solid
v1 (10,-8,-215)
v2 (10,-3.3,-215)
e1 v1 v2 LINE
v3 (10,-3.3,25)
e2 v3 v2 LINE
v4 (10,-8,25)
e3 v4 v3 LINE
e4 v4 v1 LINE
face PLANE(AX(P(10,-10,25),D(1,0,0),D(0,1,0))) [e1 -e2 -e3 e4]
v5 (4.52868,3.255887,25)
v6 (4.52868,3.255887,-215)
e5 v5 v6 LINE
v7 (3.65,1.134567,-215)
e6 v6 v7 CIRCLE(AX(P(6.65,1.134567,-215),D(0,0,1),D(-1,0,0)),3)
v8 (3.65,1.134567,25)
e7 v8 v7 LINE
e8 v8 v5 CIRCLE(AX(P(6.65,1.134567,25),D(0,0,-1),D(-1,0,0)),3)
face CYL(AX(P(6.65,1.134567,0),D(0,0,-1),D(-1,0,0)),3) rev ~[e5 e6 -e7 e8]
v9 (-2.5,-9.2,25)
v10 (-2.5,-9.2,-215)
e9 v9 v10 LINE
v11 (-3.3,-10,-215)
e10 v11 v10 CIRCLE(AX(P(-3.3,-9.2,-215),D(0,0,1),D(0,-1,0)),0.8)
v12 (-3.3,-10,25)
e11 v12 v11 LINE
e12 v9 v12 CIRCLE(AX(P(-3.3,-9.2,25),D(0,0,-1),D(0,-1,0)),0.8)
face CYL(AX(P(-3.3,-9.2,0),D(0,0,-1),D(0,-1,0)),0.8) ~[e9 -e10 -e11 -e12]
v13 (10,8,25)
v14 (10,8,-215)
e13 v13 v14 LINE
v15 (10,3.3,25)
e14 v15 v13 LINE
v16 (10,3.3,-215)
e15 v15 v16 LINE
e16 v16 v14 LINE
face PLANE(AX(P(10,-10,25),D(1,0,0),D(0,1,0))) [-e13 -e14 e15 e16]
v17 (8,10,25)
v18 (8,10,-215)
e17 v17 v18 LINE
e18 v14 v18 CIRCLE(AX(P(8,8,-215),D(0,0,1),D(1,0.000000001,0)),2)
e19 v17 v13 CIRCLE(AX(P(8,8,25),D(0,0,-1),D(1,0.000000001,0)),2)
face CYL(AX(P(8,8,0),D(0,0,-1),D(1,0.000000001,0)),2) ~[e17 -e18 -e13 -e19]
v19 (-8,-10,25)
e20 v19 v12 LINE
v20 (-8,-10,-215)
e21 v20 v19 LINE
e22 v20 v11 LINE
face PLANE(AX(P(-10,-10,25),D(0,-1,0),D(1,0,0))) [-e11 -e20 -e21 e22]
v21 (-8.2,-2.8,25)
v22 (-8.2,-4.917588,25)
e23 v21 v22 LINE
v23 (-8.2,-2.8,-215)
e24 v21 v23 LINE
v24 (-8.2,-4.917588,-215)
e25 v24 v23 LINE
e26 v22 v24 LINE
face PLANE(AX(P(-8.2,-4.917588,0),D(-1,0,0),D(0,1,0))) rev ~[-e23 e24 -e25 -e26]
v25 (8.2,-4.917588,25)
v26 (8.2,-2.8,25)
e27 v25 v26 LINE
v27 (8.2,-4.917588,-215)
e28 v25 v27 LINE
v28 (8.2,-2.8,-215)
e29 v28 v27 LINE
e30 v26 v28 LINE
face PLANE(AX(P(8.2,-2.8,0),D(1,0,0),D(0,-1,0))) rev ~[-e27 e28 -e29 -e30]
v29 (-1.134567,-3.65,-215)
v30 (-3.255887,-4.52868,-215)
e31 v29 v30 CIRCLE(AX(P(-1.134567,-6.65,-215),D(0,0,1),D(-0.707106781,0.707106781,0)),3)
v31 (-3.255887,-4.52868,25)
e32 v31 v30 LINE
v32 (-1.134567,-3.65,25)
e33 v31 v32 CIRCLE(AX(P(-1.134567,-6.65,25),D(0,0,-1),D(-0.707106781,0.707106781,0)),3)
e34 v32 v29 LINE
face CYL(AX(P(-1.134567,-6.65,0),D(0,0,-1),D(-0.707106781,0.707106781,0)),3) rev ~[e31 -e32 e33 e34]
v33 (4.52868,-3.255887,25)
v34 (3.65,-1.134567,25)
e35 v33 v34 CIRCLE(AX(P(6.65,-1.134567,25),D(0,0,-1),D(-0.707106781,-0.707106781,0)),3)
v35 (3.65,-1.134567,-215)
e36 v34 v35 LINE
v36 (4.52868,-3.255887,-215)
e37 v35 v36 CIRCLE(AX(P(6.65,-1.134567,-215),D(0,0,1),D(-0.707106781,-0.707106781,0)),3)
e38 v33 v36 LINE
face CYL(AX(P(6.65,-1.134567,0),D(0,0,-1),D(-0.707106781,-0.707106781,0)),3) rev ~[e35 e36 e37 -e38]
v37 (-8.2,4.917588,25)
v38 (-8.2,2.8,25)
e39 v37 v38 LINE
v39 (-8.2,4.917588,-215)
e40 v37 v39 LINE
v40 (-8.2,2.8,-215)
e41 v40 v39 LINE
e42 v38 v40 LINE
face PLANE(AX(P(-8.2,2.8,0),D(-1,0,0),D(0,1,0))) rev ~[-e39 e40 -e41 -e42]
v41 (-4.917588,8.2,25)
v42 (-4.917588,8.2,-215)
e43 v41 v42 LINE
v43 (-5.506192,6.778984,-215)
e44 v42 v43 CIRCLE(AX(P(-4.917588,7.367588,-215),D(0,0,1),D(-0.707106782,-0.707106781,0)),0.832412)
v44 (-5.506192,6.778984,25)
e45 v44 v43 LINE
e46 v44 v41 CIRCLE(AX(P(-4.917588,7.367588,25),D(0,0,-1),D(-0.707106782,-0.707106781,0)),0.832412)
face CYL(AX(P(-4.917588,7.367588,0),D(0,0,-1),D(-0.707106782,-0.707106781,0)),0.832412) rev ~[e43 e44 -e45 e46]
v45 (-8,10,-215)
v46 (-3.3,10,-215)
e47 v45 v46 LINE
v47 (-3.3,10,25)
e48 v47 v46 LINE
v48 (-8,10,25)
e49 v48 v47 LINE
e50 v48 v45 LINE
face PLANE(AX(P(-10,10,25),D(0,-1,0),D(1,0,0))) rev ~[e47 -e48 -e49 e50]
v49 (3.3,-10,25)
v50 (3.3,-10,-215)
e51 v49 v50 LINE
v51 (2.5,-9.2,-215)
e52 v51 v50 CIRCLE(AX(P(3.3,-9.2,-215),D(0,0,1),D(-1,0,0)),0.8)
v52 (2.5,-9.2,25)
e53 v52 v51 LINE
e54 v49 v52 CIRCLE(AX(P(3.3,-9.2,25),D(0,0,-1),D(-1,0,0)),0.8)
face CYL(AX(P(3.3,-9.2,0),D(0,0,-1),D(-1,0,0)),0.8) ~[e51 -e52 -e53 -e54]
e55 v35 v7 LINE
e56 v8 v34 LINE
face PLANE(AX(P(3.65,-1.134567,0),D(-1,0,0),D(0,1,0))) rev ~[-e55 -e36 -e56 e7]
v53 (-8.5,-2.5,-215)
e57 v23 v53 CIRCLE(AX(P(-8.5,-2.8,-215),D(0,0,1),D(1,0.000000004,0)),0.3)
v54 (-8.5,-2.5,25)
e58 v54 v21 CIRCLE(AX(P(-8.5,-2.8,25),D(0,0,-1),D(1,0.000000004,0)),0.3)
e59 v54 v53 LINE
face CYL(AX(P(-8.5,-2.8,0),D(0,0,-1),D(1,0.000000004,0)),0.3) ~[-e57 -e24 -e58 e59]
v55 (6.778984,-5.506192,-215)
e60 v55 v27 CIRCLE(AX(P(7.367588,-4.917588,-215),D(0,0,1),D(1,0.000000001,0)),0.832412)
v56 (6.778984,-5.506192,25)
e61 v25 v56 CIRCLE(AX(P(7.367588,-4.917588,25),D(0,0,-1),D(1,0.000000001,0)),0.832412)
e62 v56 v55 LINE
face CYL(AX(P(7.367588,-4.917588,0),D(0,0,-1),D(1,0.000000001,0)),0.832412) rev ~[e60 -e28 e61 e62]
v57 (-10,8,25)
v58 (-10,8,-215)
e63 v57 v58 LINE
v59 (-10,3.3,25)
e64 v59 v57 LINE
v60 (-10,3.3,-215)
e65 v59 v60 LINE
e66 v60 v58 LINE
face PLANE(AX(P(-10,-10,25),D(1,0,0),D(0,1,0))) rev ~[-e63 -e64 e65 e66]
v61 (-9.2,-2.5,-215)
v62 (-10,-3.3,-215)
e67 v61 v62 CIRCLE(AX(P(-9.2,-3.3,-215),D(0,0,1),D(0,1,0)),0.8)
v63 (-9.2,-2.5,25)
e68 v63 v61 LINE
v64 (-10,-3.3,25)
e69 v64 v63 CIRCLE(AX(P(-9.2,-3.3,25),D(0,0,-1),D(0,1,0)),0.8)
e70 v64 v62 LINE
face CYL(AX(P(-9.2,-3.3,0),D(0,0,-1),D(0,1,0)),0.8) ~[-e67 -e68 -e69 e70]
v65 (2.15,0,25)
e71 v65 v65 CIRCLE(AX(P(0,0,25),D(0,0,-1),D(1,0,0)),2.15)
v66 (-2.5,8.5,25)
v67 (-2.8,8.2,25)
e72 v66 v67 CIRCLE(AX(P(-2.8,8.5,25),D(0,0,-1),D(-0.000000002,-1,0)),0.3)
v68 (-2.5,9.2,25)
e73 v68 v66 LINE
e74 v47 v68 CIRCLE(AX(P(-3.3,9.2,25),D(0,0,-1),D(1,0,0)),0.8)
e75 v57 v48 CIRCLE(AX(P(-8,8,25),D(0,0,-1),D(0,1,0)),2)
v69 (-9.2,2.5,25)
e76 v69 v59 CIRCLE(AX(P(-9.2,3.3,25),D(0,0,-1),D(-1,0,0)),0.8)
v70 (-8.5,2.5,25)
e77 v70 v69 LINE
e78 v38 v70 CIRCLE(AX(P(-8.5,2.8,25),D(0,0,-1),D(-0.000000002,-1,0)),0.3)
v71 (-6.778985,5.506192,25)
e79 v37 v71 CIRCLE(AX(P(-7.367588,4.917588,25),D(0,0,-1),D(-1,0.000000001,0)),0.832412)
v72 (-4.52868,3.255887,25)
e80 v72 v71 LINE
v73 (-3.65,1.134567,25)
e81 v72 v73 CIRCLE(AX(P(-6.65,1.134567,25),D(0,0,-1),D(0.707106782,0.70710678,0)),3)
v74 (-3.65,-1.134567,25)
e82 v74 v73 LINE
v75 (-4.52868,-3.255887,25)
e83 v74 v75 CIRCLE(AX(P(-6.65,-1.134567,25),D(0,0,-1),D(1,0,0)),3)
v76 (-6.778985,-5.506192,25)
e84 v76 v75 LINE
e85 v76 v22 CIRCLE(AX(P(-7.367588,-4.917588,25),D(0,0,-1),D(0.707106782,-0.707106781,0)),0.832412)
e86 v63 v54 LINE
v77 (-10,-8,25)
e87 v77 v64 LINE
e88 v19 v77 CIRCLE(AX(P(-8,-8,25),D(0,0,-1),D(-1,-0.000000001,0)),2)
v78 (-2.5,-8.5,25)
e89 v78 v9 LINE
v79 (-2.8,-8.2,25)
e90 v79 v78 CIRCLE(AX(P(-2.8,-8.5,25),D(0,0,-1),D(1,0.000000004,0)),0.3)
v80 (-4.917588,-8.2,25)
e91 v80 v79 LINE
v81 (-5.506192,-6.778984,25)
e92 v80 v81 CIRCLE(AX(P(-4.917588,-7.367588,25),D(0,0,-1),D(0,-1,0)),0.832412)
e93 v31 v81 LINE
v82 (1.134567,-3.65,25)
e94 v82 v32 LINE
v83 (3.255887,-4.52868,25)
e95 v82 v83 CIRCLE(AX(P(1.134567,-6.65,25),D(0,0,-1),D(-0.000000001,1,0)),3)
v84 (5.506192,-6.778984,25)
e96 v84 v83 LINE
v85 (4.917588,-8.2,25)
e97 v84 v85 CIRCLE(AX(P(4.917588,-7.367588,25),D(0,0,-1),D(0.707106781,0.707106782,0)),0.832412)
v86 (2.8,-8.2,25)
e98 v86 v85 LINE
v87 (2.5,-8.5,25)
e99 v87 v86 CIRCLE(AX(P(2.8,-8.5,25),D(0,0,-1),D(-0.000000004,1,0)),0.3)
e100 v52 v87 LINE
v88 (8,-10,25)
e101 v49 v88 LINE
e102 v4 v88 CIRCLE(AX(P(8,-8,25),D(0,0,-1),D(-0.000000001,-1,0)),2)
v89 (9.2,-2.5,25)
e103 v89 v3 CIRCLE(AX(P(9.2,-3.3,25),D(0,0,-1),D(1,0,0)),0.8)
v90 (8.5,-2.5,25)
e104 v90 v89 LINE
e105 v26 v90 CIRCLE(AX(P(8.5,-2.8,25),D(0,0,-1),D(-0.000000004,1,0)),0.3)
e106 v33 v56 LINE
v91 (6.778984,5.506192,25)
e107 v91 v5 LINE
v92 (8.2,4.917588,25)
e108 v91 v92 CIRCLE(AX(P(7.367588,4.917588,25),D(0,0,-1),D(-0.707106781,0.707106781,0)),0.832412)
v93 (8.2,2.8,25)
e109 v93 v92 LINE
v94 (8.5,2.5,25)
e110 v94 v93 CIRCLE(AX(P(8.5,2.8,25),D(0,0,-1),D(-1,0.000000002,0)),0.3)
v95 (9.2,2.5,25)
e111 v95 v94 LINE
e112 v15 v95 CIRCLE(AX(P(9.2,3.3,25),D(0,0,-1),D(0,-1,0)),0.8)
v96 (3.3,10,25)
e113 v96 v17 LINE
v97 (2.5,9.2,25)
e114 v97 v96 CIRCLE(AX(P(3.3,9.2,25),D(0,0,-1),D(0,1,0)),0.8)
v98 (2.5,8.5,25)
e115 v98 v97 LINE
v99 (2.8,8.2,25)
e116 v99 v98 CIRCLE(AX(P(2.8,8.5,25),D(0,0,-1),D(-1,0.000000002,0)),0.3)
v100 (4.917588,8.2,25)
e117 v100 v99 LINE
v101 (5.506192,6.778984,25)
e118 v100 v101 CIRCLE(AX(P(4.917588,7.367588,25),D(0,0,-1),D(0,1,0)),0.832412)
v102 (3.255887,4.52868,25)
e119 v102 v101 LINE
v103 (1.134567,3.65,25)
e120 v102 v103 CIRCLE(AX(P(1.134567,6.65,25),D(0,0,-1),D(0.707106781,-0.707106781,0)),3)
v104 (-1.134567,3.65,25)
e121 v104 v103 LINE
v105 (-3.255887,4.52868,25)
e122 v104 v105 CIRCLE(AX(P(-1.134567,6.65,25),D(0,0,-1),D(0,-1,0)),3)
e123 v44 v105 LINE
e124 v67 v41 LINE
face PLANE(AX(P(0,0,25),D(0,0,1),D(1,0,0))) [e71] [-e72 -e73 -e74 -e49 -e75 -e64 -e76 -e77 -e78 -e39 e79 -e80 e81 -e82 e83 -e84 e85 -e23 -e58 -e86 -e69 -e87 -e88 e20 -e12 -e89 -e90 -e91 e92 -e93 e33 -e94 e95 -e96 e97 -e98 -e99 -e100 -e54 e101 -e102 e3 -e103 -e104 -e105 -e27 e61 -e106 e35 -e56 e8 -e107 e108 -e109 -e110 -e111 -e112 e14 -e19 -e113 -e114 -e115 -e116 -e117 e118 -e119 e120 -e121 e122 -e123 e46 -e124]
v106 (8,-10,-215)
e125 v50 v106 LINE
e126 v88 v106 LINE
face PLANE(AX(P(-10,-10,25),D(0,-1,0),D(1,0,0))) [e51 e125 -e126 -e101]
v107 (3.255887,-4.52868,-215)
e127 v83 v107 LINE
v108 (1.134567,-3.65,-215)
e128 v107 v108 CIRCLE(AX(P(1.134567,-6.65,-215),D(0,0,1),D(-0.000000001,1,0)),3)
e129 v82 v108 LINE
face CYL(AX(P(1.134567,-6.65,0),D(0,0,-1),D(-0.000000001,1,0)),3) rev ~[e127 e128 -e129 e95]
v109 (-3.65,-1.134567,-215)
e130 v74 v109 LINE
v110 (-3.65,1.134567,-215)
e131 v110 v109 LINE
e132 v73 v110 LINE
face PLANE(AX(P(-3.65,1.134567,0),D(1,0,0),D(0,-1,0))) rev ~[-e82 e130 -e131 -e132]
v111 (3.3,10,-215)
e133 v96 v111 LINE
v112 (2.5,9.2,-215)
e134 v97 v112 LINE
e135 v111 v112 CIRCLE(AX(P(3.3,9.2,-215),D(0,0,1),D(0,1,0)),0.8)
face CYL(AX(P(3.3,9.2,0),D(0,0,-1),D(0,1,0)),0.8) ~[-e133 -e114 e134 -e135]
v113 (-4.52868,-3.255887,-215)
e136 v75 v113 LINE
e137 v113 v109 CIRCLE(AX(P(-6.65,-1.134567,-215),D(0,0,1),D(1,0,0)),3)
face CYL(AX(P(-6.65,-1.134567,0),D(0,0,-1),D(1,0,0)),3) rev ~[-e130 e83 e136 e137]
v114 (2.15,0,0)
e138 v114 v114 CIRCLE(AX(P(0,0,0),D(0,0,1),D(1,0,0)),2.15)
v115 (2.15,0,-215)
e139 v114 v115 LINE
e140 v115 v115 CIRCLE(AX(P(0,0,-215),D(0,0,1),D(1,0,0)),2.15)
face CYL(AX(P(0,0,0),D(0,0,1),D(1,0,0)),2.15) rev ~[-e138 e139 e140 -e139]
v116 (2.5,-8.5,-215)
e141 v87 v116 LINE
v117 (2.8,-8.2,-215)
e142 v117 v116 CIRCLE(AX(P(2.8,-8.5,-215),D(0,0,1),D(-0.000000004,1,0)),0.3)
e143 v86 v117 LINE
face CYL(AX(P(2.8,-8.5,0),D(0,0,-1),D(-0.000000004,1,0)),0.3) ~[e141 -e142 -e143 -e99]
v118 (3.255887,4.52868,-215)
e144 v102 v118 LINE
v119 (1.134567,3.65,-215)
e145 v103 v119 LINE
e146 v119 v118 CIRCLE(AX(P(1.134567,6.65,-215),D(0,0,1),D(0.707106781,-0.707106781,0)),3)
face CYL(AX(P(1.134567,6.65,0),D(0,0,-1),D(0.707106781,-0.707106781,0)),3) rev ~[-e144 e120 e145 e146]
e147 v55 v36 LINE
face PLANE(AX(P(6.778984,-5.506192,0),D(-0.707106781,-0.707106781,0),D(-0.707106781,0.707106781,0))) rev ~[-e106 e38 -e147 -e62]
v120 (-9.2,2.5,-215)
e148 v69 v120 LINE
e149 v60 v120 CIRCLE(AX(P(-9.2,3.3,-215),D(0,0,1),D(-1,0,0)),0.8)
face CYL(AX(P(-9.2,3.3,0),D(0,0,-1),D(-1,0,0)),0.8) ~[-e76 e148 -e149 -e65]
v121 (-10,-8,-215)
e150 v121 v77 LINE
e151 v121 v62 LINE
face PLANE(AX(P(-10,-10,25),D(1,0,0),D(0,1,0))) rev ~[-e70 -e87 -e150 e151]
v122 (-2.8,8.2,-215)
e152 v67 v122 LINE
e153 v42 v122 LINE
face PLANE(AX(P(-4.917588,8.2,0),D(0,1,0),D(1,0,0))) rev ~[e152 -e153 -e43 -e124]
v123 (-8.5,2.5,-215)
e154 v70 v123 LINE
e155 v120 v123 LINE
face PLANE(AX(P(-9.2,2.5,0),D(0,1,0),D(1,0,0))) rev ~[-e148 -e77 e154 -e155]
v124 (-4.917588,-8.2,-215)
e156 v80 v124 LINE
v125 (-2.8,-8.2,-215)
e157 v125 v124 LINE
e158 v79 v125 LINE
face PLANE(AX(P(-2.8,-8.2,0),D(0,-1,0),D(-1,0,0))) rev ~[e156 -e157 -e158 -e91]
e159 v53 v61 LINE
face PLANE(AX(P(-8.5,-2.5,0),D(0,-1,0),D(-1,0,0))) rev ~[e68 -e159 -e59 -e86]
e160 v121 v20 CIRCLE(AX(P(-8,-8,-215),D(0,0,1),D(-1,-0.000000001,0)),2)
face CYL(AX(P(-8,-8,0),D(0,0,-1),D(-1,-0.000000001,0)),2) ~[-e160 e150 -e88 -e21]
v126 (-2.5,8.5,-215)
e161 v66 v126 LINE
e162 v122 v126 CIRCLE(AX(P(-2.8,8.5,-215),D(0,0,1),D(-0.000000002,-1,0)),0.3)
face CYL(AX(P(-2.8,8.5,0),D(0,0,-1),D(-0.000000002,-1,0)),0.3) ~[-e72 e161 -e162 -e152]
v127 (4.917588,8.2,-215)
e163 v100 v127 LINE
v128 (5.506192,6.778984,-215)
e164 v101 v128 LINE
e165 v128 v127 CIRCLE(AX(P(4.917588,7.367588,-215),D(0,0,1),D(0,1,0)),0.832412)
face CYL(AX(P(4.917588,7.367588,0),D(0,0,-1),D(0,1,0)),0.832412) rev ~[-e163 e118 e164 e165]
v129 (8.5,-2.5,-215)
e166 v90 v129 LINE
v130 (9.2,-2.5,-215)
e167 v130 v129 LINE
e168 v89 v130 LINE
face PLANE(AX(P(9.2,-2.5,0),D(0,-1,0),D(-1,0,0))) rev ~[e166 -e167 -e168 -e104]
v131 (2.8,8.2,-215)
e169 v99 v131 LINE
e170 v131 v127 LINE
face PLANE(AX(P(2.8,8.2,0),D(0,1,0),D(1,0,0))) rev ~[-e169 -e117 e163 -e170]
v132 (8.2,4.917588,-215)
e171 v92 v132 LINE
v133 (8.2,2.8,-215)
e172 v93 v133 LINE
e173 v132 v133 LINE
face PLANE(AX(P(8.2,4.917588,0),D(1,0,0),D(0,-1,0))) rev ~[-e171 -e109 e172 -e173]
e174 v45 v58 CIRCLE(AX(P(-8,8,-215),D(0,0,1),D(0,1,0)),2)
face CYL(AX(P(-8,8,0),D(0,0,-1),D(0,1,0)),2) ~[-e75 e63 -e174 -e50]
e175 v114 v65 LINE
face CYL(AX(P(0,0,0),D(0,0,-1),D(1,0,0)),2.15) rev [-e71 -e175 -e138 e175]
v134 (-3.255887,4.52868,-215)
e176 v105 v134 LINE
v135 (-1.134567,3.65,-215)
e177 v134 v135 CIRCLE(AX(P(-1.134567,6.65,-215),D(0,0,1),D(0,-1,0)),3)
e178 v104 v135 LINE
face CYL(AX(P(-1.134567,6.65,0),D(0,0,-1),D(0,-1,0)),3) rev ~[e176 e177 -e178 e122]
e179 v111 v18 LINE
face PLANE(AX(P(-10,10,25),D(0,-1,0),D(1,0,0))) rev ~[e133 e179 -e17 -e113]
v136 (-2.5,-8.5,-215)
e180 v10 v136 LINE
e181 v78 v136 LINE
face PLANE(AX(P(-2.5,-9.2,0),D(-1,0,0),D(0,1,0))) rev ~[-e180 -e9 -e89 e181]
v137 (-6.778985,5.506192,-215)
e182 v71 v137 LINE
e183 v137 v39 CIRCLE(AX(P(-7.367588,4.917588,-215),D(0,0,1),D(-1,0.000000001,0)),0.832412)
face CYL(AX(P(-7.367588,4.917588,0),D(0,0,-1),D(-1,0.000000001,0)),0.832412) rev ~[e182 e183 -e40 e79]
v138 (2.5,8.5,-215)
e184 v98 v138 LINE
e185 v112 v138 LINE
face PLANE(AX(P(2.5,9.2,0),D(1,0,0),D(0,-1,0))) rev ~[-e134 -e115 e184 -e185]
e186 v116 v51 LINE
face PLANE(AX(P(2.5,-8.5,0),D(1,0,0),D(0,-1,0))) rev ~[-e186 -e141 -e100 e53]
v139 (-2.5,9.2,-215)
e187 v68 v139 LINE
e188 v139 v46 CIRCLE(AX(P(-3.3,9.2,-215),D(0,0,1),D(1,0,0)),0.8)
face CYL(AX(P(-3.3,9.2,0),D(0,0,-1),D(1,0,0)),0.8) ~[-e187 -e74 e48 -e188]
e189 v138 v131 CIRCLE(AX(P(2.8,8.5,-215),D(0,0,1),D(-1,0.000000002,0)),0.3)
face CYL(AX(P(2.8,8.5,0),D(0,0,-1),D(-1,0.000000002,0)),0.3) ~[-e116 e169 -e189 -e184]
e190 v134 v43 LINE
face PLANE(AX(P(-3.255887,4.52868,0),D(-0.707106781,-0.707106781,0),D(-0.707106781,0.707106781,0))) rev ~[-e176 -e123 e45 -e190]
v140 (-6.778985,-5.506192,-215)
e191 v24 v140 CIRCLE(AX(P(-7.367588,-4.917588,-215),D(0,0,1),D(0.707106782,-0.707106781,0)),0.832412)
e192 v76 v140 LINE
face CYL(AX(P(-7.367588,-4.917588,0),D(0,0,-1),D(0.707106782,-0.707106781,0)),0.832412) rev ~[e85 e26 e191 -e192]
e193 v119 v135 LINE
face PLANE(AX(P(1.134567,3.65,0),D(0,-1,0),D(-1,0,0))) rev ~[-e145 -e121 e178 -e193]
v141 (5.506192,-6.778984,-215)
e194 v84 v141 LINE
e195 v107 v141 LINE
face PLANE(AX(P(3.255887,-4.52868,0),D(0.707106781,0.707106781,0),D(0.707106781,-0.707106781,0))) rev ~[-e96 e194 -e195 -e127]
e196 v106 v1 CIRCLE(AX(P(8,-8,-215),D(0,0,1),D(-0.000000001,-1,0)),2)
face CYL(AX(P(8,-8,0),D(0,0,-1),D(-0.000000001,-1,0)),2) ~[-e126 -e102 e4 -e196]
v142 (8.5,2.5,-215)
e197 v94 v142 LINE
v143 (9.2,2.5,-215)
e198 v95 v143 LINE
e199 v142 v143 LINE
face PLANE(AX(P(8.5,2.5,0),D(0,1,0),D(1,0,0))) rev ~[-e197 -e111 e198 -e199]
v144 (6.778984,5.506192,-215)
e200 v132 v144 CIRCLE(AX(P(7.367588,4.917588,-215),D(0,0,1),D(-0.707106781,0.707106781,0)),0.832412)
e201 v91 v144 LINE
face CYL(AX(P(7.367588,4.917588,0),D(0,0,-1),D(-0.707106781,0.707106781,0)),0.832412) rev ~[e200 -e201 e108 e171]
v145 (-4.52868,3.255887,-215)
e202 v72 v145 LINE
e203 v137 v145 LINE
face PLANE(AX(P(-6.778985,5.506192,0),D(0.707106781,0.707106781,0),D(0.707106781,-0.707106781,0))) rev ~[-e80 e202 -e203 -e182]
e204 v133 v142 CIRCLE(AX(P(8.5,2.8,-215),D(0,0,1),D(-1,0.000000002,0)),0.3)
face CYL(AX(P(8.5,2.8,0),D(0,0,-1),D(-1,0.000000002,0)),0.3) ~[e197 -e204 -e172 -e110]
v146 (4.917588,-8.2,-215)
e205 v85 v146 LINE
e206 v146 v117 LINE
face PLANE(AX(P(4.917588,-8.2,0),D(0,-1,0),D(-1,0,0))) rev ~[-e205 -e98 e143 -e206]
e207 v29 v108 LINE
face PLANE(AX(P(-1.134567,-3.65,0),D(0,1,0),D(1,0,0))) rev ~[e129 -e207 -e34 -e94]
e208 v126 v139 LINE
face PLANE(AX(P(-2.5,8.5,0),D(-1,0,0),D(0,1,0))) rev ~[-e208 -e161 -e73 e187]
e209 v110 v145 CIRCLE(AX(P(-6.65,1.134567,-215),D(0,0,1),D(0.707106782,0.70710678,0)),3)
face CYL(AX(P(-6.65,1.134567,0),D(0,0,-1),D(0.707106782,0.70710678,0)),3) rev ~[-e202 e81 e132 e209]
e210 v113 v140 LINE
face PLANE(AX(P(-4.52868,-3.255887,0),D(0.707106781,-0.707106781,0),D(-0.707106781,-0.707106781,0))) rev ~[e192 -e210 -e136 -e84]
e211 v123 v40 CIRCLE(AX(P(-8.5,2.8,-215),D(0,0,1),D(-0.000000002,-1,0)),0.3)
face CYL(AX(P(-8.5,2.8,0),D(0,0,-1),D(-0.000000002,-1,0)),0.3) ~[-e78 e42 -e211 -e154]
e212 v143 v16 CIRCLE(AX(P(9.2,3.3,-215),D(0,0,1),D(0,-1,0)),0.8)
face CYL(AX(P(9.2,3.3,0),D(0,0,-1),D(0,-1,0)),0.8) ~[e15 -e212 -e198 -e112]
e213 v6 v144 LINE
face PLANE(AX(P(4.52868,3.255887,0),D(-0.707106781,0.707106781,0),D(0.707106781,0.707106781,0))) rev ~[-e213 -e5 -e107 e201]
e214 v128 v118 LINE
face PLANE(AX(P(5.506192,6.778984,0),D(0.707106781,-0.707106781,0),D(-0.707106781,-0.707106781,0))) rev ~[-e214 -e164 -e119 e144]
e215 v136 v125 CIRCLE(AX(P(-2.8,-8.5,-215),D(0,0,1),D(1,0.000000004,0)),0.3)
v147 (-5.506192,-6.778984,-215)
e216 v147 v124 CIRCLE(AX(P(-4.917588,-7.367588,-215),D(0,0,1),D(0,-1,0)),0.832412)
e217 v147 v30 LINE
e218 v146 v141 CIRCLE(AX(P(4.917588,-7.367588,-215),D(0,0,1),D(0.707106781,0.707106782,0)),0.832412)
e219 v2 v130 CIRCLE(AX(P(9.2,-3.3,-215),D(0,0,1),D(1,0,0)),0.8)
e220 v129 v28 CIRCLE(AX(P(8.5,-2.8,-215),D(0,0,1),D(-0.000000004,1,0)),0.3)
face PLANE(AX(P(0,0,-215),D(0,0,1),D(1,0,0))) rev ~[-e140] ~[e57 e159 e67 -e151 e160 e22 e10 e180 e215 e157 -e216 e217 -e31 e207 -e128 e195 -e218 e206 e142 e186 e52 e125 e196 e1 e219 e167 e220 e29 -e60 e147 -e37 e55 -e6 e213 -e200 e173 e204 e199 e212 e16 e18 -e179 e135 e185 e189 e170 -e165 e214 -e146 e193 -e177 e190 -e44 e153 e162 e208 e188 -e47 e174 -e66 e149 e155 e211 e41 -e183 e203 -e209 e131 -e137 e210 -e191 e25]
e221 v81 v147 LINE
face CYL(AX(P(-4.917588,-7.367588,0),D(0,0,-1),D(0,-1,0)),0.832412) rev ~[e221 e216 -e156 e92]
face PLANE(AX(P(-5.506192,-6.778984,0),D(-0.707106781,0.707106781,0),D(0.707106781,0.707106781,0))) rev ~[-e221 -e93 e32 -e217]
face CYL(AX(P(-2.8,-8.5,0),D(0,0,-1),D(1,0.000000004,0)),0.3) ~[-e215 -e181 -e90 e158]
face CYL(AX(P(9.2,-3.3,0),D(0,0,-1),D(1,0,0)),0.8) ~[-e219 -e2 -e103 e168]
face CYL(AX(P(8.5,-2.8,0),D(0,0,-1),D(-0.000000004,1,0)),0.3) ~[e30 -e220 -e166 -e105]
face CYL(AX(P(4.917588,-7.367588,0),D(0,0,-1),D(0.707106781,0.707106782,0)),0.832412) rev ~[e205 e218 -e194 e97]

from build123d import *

# Parameters (mm, degrees)
SKETCH4_W              = 20
SKETCH4_H              = 20
BODY_DEPTH             = 240
SKETCH16_OUTSIDE_W     = 70.332
SKETCH16_OUTSIDE_H     = 70.332
SKETCH16_OUTSIDE_R     = 2.15
CUT_PROFILE_DEPTH      = 26
CUT_PROFILE_DEPTH_BACK = 216


with BuildPart() as part:
    # Sketch4 → Body (new body)
    with BuildSketch(Plane.XY.offset(25)):
        Rectangle(SKETCH4_W, SKETCH4_H)
    extrude(amount=-BODY_DEPTH)

    # Sketch16 outside → Cut-Profile (cut, two sides)
    with BuildSketch(Plane.XY) as cut_profile_sk:
        Rectangle(SKETCH16_OUTSIDE_W, SKETCH16_OUTSIDE_H)
        with BuildLine():
            Line((4.917588389, -8.199999991), (2.799999989, -8.199999991))
            ThreePointArc((2.799999989, -8.199999991), (2.587867955, -8.287867957), (2.499999989, -8.499999991))
            Line((2.499999989, -8.499999991), (2.499999989, -9.199999991))
            ThreePointArc((2.499999989, -9.199999991), (2.734314564, -9.765685416), (3.299999989, -9.999999991))
            Line((3.299999989, -9.999999991), (7.999999989, -9.999999991))
            ThreePointArc((7.999999989, -9.999999991), (9.414213552, -9.414213554), (9.999999989, -7.999999991))
            Line((9.999999989, -7.999999991), (9.999999989, -3.299999991))
            ThreePointArc((9.999999989, -3.299999991), (9.765685414, -2.734314566), (9.199999989, -2.499999991))
            Line((9.199999989, -2.499999991), (8.499999989, -2.499999991))
            ThreePointArc((8.499999989, -2.499999991), (8.287867955, -2.587867957), (8.199999989, -2.799999991))
            Line((8.199999989, -2.799999991), (8.199999989, -4.917588391))
            ThreePointArc((8.199999989, -4.917588391), (7.686138511, -5.686636441), (6.778984485, -5.506192286))
            Line((6.778984485, -5.506192286), (4.528679645, -3.255887446))
            ThreePointArc((4.528679645, -3.255887446), (3.878361392, -2.282617401), (3.64999999, -1.134567106))
            Line((3.64999999, -1.134567106), (3.64999999, 1.134567104))
            ThreePointArc((3.64999999, 1.134567104), (3.878361393, 2.282617402), (4.528679647, 3.255887448))
            Line((4.528679647, 3.255887448), (6.778984487, 5.506192288))
            ThreePointArc((6.778984487, 5.506192288), (7.686138506, 5.686636442), (8.199999981, 4.917588398))
            Line((8.199999981, 4.917588398), (8.199999981, 2.799999998))
            ThreePointArc((8.199999981, 2.799999998), (8.287867946, 2.587867964), (8.499999981, 2.499999998))
            Line((8.499999981, 2.499999998), (9.199999981, 2.499999998))
            ThreePointArc((9.199999981, 2.499999998), (9.765685406, 2.734314573), (9.999999981, 3.299999998))
            Line((9.999999981, 3.299999998), (9.999999981, 7.999999998))
            ThreePointArc((9.999999981, 7.999999998), (9.414213543, 9.41421356), (7.999999981, 9.999999998))
            Line((7.999999981, 9.999999998), (3.299999981, 9.999999998))
            ThreePointArc((3.299999981, 9.999999998), (2.734314556, 9.765685423), (2.499999981, 9.199999998))
            Line((2.499999981, 9.199999998), (2.499999981, 8.499999998))
            ThreePointArc((2.499999981, 8.499999998), (2.587867946, 8.287867964), (2.799999981, 8.199999998))
            Line((2.799999981, 8.199999998), (4.917588381, 8.199999998))
            ThreePointArc((4.917588381, 8.199999998), (5.68663643, 7.68613852), (5.506192275, 6.778984494))
            Line((5.506192275, 6.778984494), (3.255887435, 4.528679654))
            ThreePointArc((3.255887435, 4.528679654), (2.28261739, 3.878361401), (1.134567095, 3.649999999))
            Line((1.134567095, 3.649999999), (-1.134567115, 3.649999999))
            ThreePointArc((-1.134567115, 3.649999999), (-2.282617412, 3.878361401), (-3.255887459, 4.528679655))
            Line((-3.255887459, 4.528679655), (-5.506192299, 6.778984495))
            ThreePointArc((-5.506192299, 6.778984495), (-5.686636452, 7.686138515), (-4.917588409, 8.199999989))
            Line((-4.917588409, 8.199999989), (-2.800000009, 8.199999989))
            ThreePointArc((-2.800000009, 8.199999989), (-2.587867974, 8.287867955), (-2.500000009, 8.499999989))
            Line((-2.500000009, 8.499999989), (-2.500000009, 9.199999989))
            ThreePointArc((-2.500000009, 9.199999989), (-2.734314584, 9.765685414), (-3.300000009, 9.999999989))
            Line((-3.300000009, 9.999999989), (-8.000000009, 9.999999989))
            ThreePointArc((-8.000000009, 9.999999989), (-9.414213571, 9.414213552), (-10.000000009, 7.999999989))
            Line((-10.000000009, 7.999999989), (-10.000000009, 3.299999989))
            ThreePointArc((-10.000000009, 3.299999989), (-9.765685434, 2.734314564), (-9.200000009, 2.499999989))
            Line((-9.200000009, 2.499999989), (-8.500000009, 2.499999989))
            ThreePointArc((-8.500000009, 2.499999989), (-8.287867974, 2.587867955), (-8.200000009, 2.799999989))
            Line((-8.200000009, 2.799999989), (-8.200000009, 4.917588389))
            ThreePointArc((-8.200000009, 4.917588389), (-7.686138531, 5.686636438), (-6.778984504, 5.506192284))
            Line((-6.778984504, 5.506192284), (-4.528679664, 3.255887444))
            ThreePointArc((-4.528679664, 3.255887444), (-3.878361412, 2.282617399), (-3.650000009, 1.134567104))
            Line((-3.650000009, 1.134567104), (-3.650000009, -1.134567106))
            ThreePointArc((-3.650000009, -1.134567106), (-3.878361412, -2.282617404), (-4.528679666, -3.25588745))
            Line((-4.528679666, -3.25588745), (-6.778984506, -5.50619229))
            ThreePointArc((-6.778984506, -5.50619229), (-7.686138526, -5.686636444), (-8.2, -4.9175884))
            Line((-8.2, -4.9175884), (-8.2, -2.8))
            ThreePointArc((-8.2, -2.8), (-8.287867966, -2.587867966), (-8.5, -2.5))
            Line((-8.5, -2.5), (-9.2, -2.5))
            ThreePointArc((-9.2, -2.5), (-9.765685425, -2.734314575), (-10, -3.3))
            Line((-10, -3.3), (-10, -8))
            ThreePointArc((-10, -8), (-9.414213562, -9.414213562), (-8, -10))
            Line((-8, -10), (-3.3, -10))
            ThreePointArc((-3.3, -10), (-2.734314575, -9.765685425), (-2.5, -9.2))
            Line((-2.5, -9.2), (-2.5, -8.5))
            ThreePointArc((-2.5, -8.5), (-2.587867966, -8.287867966), (-2.8, -8.2))
            Line((-2.8, -8.2), (-4.9175884, -8.2))
            ThreePointArc((-4.9175884, -8.2), (-5.686636449, -7.686138522), (-5.506192294, -6.778984496))
            Line((-5.506192294, -6.778984496), (-3.255887454, -4.528679656))
            ThreePointArc((-3.255887454, -4.528679656), (-2.282617409, -3.878361403), (-1.134567114, -3.650000001))
            Line((-1.134567114, -3.650000001), (1.134567096, -3.650000001))
            ThreePointArc((1.134567096, -3.650000001), (2.282617393, -3.878361403), (3.255887439, -4.528679657))
            Line((3.255887439, -4.528679657), (5.506192279, -6.778984497))
            ThreePointArc((5.506192279, -6.778984497), (5.686636433, -7.686138517), (4.917588389, -8.199999991))
        make_face(mode=Mode.SUBTRACT)
        Circle(SKETCH16_OUTSIDE_R)
    extrude(amount=CUT_PROFILE_DEPTH, mode=Mode.SUBTRACT)
    extrude(cut_profile_sk.sketch, amount=-CUT_PROFILE_DEPTH_BACK, mode=Mode.SUBTRACT)


solid = part.part
